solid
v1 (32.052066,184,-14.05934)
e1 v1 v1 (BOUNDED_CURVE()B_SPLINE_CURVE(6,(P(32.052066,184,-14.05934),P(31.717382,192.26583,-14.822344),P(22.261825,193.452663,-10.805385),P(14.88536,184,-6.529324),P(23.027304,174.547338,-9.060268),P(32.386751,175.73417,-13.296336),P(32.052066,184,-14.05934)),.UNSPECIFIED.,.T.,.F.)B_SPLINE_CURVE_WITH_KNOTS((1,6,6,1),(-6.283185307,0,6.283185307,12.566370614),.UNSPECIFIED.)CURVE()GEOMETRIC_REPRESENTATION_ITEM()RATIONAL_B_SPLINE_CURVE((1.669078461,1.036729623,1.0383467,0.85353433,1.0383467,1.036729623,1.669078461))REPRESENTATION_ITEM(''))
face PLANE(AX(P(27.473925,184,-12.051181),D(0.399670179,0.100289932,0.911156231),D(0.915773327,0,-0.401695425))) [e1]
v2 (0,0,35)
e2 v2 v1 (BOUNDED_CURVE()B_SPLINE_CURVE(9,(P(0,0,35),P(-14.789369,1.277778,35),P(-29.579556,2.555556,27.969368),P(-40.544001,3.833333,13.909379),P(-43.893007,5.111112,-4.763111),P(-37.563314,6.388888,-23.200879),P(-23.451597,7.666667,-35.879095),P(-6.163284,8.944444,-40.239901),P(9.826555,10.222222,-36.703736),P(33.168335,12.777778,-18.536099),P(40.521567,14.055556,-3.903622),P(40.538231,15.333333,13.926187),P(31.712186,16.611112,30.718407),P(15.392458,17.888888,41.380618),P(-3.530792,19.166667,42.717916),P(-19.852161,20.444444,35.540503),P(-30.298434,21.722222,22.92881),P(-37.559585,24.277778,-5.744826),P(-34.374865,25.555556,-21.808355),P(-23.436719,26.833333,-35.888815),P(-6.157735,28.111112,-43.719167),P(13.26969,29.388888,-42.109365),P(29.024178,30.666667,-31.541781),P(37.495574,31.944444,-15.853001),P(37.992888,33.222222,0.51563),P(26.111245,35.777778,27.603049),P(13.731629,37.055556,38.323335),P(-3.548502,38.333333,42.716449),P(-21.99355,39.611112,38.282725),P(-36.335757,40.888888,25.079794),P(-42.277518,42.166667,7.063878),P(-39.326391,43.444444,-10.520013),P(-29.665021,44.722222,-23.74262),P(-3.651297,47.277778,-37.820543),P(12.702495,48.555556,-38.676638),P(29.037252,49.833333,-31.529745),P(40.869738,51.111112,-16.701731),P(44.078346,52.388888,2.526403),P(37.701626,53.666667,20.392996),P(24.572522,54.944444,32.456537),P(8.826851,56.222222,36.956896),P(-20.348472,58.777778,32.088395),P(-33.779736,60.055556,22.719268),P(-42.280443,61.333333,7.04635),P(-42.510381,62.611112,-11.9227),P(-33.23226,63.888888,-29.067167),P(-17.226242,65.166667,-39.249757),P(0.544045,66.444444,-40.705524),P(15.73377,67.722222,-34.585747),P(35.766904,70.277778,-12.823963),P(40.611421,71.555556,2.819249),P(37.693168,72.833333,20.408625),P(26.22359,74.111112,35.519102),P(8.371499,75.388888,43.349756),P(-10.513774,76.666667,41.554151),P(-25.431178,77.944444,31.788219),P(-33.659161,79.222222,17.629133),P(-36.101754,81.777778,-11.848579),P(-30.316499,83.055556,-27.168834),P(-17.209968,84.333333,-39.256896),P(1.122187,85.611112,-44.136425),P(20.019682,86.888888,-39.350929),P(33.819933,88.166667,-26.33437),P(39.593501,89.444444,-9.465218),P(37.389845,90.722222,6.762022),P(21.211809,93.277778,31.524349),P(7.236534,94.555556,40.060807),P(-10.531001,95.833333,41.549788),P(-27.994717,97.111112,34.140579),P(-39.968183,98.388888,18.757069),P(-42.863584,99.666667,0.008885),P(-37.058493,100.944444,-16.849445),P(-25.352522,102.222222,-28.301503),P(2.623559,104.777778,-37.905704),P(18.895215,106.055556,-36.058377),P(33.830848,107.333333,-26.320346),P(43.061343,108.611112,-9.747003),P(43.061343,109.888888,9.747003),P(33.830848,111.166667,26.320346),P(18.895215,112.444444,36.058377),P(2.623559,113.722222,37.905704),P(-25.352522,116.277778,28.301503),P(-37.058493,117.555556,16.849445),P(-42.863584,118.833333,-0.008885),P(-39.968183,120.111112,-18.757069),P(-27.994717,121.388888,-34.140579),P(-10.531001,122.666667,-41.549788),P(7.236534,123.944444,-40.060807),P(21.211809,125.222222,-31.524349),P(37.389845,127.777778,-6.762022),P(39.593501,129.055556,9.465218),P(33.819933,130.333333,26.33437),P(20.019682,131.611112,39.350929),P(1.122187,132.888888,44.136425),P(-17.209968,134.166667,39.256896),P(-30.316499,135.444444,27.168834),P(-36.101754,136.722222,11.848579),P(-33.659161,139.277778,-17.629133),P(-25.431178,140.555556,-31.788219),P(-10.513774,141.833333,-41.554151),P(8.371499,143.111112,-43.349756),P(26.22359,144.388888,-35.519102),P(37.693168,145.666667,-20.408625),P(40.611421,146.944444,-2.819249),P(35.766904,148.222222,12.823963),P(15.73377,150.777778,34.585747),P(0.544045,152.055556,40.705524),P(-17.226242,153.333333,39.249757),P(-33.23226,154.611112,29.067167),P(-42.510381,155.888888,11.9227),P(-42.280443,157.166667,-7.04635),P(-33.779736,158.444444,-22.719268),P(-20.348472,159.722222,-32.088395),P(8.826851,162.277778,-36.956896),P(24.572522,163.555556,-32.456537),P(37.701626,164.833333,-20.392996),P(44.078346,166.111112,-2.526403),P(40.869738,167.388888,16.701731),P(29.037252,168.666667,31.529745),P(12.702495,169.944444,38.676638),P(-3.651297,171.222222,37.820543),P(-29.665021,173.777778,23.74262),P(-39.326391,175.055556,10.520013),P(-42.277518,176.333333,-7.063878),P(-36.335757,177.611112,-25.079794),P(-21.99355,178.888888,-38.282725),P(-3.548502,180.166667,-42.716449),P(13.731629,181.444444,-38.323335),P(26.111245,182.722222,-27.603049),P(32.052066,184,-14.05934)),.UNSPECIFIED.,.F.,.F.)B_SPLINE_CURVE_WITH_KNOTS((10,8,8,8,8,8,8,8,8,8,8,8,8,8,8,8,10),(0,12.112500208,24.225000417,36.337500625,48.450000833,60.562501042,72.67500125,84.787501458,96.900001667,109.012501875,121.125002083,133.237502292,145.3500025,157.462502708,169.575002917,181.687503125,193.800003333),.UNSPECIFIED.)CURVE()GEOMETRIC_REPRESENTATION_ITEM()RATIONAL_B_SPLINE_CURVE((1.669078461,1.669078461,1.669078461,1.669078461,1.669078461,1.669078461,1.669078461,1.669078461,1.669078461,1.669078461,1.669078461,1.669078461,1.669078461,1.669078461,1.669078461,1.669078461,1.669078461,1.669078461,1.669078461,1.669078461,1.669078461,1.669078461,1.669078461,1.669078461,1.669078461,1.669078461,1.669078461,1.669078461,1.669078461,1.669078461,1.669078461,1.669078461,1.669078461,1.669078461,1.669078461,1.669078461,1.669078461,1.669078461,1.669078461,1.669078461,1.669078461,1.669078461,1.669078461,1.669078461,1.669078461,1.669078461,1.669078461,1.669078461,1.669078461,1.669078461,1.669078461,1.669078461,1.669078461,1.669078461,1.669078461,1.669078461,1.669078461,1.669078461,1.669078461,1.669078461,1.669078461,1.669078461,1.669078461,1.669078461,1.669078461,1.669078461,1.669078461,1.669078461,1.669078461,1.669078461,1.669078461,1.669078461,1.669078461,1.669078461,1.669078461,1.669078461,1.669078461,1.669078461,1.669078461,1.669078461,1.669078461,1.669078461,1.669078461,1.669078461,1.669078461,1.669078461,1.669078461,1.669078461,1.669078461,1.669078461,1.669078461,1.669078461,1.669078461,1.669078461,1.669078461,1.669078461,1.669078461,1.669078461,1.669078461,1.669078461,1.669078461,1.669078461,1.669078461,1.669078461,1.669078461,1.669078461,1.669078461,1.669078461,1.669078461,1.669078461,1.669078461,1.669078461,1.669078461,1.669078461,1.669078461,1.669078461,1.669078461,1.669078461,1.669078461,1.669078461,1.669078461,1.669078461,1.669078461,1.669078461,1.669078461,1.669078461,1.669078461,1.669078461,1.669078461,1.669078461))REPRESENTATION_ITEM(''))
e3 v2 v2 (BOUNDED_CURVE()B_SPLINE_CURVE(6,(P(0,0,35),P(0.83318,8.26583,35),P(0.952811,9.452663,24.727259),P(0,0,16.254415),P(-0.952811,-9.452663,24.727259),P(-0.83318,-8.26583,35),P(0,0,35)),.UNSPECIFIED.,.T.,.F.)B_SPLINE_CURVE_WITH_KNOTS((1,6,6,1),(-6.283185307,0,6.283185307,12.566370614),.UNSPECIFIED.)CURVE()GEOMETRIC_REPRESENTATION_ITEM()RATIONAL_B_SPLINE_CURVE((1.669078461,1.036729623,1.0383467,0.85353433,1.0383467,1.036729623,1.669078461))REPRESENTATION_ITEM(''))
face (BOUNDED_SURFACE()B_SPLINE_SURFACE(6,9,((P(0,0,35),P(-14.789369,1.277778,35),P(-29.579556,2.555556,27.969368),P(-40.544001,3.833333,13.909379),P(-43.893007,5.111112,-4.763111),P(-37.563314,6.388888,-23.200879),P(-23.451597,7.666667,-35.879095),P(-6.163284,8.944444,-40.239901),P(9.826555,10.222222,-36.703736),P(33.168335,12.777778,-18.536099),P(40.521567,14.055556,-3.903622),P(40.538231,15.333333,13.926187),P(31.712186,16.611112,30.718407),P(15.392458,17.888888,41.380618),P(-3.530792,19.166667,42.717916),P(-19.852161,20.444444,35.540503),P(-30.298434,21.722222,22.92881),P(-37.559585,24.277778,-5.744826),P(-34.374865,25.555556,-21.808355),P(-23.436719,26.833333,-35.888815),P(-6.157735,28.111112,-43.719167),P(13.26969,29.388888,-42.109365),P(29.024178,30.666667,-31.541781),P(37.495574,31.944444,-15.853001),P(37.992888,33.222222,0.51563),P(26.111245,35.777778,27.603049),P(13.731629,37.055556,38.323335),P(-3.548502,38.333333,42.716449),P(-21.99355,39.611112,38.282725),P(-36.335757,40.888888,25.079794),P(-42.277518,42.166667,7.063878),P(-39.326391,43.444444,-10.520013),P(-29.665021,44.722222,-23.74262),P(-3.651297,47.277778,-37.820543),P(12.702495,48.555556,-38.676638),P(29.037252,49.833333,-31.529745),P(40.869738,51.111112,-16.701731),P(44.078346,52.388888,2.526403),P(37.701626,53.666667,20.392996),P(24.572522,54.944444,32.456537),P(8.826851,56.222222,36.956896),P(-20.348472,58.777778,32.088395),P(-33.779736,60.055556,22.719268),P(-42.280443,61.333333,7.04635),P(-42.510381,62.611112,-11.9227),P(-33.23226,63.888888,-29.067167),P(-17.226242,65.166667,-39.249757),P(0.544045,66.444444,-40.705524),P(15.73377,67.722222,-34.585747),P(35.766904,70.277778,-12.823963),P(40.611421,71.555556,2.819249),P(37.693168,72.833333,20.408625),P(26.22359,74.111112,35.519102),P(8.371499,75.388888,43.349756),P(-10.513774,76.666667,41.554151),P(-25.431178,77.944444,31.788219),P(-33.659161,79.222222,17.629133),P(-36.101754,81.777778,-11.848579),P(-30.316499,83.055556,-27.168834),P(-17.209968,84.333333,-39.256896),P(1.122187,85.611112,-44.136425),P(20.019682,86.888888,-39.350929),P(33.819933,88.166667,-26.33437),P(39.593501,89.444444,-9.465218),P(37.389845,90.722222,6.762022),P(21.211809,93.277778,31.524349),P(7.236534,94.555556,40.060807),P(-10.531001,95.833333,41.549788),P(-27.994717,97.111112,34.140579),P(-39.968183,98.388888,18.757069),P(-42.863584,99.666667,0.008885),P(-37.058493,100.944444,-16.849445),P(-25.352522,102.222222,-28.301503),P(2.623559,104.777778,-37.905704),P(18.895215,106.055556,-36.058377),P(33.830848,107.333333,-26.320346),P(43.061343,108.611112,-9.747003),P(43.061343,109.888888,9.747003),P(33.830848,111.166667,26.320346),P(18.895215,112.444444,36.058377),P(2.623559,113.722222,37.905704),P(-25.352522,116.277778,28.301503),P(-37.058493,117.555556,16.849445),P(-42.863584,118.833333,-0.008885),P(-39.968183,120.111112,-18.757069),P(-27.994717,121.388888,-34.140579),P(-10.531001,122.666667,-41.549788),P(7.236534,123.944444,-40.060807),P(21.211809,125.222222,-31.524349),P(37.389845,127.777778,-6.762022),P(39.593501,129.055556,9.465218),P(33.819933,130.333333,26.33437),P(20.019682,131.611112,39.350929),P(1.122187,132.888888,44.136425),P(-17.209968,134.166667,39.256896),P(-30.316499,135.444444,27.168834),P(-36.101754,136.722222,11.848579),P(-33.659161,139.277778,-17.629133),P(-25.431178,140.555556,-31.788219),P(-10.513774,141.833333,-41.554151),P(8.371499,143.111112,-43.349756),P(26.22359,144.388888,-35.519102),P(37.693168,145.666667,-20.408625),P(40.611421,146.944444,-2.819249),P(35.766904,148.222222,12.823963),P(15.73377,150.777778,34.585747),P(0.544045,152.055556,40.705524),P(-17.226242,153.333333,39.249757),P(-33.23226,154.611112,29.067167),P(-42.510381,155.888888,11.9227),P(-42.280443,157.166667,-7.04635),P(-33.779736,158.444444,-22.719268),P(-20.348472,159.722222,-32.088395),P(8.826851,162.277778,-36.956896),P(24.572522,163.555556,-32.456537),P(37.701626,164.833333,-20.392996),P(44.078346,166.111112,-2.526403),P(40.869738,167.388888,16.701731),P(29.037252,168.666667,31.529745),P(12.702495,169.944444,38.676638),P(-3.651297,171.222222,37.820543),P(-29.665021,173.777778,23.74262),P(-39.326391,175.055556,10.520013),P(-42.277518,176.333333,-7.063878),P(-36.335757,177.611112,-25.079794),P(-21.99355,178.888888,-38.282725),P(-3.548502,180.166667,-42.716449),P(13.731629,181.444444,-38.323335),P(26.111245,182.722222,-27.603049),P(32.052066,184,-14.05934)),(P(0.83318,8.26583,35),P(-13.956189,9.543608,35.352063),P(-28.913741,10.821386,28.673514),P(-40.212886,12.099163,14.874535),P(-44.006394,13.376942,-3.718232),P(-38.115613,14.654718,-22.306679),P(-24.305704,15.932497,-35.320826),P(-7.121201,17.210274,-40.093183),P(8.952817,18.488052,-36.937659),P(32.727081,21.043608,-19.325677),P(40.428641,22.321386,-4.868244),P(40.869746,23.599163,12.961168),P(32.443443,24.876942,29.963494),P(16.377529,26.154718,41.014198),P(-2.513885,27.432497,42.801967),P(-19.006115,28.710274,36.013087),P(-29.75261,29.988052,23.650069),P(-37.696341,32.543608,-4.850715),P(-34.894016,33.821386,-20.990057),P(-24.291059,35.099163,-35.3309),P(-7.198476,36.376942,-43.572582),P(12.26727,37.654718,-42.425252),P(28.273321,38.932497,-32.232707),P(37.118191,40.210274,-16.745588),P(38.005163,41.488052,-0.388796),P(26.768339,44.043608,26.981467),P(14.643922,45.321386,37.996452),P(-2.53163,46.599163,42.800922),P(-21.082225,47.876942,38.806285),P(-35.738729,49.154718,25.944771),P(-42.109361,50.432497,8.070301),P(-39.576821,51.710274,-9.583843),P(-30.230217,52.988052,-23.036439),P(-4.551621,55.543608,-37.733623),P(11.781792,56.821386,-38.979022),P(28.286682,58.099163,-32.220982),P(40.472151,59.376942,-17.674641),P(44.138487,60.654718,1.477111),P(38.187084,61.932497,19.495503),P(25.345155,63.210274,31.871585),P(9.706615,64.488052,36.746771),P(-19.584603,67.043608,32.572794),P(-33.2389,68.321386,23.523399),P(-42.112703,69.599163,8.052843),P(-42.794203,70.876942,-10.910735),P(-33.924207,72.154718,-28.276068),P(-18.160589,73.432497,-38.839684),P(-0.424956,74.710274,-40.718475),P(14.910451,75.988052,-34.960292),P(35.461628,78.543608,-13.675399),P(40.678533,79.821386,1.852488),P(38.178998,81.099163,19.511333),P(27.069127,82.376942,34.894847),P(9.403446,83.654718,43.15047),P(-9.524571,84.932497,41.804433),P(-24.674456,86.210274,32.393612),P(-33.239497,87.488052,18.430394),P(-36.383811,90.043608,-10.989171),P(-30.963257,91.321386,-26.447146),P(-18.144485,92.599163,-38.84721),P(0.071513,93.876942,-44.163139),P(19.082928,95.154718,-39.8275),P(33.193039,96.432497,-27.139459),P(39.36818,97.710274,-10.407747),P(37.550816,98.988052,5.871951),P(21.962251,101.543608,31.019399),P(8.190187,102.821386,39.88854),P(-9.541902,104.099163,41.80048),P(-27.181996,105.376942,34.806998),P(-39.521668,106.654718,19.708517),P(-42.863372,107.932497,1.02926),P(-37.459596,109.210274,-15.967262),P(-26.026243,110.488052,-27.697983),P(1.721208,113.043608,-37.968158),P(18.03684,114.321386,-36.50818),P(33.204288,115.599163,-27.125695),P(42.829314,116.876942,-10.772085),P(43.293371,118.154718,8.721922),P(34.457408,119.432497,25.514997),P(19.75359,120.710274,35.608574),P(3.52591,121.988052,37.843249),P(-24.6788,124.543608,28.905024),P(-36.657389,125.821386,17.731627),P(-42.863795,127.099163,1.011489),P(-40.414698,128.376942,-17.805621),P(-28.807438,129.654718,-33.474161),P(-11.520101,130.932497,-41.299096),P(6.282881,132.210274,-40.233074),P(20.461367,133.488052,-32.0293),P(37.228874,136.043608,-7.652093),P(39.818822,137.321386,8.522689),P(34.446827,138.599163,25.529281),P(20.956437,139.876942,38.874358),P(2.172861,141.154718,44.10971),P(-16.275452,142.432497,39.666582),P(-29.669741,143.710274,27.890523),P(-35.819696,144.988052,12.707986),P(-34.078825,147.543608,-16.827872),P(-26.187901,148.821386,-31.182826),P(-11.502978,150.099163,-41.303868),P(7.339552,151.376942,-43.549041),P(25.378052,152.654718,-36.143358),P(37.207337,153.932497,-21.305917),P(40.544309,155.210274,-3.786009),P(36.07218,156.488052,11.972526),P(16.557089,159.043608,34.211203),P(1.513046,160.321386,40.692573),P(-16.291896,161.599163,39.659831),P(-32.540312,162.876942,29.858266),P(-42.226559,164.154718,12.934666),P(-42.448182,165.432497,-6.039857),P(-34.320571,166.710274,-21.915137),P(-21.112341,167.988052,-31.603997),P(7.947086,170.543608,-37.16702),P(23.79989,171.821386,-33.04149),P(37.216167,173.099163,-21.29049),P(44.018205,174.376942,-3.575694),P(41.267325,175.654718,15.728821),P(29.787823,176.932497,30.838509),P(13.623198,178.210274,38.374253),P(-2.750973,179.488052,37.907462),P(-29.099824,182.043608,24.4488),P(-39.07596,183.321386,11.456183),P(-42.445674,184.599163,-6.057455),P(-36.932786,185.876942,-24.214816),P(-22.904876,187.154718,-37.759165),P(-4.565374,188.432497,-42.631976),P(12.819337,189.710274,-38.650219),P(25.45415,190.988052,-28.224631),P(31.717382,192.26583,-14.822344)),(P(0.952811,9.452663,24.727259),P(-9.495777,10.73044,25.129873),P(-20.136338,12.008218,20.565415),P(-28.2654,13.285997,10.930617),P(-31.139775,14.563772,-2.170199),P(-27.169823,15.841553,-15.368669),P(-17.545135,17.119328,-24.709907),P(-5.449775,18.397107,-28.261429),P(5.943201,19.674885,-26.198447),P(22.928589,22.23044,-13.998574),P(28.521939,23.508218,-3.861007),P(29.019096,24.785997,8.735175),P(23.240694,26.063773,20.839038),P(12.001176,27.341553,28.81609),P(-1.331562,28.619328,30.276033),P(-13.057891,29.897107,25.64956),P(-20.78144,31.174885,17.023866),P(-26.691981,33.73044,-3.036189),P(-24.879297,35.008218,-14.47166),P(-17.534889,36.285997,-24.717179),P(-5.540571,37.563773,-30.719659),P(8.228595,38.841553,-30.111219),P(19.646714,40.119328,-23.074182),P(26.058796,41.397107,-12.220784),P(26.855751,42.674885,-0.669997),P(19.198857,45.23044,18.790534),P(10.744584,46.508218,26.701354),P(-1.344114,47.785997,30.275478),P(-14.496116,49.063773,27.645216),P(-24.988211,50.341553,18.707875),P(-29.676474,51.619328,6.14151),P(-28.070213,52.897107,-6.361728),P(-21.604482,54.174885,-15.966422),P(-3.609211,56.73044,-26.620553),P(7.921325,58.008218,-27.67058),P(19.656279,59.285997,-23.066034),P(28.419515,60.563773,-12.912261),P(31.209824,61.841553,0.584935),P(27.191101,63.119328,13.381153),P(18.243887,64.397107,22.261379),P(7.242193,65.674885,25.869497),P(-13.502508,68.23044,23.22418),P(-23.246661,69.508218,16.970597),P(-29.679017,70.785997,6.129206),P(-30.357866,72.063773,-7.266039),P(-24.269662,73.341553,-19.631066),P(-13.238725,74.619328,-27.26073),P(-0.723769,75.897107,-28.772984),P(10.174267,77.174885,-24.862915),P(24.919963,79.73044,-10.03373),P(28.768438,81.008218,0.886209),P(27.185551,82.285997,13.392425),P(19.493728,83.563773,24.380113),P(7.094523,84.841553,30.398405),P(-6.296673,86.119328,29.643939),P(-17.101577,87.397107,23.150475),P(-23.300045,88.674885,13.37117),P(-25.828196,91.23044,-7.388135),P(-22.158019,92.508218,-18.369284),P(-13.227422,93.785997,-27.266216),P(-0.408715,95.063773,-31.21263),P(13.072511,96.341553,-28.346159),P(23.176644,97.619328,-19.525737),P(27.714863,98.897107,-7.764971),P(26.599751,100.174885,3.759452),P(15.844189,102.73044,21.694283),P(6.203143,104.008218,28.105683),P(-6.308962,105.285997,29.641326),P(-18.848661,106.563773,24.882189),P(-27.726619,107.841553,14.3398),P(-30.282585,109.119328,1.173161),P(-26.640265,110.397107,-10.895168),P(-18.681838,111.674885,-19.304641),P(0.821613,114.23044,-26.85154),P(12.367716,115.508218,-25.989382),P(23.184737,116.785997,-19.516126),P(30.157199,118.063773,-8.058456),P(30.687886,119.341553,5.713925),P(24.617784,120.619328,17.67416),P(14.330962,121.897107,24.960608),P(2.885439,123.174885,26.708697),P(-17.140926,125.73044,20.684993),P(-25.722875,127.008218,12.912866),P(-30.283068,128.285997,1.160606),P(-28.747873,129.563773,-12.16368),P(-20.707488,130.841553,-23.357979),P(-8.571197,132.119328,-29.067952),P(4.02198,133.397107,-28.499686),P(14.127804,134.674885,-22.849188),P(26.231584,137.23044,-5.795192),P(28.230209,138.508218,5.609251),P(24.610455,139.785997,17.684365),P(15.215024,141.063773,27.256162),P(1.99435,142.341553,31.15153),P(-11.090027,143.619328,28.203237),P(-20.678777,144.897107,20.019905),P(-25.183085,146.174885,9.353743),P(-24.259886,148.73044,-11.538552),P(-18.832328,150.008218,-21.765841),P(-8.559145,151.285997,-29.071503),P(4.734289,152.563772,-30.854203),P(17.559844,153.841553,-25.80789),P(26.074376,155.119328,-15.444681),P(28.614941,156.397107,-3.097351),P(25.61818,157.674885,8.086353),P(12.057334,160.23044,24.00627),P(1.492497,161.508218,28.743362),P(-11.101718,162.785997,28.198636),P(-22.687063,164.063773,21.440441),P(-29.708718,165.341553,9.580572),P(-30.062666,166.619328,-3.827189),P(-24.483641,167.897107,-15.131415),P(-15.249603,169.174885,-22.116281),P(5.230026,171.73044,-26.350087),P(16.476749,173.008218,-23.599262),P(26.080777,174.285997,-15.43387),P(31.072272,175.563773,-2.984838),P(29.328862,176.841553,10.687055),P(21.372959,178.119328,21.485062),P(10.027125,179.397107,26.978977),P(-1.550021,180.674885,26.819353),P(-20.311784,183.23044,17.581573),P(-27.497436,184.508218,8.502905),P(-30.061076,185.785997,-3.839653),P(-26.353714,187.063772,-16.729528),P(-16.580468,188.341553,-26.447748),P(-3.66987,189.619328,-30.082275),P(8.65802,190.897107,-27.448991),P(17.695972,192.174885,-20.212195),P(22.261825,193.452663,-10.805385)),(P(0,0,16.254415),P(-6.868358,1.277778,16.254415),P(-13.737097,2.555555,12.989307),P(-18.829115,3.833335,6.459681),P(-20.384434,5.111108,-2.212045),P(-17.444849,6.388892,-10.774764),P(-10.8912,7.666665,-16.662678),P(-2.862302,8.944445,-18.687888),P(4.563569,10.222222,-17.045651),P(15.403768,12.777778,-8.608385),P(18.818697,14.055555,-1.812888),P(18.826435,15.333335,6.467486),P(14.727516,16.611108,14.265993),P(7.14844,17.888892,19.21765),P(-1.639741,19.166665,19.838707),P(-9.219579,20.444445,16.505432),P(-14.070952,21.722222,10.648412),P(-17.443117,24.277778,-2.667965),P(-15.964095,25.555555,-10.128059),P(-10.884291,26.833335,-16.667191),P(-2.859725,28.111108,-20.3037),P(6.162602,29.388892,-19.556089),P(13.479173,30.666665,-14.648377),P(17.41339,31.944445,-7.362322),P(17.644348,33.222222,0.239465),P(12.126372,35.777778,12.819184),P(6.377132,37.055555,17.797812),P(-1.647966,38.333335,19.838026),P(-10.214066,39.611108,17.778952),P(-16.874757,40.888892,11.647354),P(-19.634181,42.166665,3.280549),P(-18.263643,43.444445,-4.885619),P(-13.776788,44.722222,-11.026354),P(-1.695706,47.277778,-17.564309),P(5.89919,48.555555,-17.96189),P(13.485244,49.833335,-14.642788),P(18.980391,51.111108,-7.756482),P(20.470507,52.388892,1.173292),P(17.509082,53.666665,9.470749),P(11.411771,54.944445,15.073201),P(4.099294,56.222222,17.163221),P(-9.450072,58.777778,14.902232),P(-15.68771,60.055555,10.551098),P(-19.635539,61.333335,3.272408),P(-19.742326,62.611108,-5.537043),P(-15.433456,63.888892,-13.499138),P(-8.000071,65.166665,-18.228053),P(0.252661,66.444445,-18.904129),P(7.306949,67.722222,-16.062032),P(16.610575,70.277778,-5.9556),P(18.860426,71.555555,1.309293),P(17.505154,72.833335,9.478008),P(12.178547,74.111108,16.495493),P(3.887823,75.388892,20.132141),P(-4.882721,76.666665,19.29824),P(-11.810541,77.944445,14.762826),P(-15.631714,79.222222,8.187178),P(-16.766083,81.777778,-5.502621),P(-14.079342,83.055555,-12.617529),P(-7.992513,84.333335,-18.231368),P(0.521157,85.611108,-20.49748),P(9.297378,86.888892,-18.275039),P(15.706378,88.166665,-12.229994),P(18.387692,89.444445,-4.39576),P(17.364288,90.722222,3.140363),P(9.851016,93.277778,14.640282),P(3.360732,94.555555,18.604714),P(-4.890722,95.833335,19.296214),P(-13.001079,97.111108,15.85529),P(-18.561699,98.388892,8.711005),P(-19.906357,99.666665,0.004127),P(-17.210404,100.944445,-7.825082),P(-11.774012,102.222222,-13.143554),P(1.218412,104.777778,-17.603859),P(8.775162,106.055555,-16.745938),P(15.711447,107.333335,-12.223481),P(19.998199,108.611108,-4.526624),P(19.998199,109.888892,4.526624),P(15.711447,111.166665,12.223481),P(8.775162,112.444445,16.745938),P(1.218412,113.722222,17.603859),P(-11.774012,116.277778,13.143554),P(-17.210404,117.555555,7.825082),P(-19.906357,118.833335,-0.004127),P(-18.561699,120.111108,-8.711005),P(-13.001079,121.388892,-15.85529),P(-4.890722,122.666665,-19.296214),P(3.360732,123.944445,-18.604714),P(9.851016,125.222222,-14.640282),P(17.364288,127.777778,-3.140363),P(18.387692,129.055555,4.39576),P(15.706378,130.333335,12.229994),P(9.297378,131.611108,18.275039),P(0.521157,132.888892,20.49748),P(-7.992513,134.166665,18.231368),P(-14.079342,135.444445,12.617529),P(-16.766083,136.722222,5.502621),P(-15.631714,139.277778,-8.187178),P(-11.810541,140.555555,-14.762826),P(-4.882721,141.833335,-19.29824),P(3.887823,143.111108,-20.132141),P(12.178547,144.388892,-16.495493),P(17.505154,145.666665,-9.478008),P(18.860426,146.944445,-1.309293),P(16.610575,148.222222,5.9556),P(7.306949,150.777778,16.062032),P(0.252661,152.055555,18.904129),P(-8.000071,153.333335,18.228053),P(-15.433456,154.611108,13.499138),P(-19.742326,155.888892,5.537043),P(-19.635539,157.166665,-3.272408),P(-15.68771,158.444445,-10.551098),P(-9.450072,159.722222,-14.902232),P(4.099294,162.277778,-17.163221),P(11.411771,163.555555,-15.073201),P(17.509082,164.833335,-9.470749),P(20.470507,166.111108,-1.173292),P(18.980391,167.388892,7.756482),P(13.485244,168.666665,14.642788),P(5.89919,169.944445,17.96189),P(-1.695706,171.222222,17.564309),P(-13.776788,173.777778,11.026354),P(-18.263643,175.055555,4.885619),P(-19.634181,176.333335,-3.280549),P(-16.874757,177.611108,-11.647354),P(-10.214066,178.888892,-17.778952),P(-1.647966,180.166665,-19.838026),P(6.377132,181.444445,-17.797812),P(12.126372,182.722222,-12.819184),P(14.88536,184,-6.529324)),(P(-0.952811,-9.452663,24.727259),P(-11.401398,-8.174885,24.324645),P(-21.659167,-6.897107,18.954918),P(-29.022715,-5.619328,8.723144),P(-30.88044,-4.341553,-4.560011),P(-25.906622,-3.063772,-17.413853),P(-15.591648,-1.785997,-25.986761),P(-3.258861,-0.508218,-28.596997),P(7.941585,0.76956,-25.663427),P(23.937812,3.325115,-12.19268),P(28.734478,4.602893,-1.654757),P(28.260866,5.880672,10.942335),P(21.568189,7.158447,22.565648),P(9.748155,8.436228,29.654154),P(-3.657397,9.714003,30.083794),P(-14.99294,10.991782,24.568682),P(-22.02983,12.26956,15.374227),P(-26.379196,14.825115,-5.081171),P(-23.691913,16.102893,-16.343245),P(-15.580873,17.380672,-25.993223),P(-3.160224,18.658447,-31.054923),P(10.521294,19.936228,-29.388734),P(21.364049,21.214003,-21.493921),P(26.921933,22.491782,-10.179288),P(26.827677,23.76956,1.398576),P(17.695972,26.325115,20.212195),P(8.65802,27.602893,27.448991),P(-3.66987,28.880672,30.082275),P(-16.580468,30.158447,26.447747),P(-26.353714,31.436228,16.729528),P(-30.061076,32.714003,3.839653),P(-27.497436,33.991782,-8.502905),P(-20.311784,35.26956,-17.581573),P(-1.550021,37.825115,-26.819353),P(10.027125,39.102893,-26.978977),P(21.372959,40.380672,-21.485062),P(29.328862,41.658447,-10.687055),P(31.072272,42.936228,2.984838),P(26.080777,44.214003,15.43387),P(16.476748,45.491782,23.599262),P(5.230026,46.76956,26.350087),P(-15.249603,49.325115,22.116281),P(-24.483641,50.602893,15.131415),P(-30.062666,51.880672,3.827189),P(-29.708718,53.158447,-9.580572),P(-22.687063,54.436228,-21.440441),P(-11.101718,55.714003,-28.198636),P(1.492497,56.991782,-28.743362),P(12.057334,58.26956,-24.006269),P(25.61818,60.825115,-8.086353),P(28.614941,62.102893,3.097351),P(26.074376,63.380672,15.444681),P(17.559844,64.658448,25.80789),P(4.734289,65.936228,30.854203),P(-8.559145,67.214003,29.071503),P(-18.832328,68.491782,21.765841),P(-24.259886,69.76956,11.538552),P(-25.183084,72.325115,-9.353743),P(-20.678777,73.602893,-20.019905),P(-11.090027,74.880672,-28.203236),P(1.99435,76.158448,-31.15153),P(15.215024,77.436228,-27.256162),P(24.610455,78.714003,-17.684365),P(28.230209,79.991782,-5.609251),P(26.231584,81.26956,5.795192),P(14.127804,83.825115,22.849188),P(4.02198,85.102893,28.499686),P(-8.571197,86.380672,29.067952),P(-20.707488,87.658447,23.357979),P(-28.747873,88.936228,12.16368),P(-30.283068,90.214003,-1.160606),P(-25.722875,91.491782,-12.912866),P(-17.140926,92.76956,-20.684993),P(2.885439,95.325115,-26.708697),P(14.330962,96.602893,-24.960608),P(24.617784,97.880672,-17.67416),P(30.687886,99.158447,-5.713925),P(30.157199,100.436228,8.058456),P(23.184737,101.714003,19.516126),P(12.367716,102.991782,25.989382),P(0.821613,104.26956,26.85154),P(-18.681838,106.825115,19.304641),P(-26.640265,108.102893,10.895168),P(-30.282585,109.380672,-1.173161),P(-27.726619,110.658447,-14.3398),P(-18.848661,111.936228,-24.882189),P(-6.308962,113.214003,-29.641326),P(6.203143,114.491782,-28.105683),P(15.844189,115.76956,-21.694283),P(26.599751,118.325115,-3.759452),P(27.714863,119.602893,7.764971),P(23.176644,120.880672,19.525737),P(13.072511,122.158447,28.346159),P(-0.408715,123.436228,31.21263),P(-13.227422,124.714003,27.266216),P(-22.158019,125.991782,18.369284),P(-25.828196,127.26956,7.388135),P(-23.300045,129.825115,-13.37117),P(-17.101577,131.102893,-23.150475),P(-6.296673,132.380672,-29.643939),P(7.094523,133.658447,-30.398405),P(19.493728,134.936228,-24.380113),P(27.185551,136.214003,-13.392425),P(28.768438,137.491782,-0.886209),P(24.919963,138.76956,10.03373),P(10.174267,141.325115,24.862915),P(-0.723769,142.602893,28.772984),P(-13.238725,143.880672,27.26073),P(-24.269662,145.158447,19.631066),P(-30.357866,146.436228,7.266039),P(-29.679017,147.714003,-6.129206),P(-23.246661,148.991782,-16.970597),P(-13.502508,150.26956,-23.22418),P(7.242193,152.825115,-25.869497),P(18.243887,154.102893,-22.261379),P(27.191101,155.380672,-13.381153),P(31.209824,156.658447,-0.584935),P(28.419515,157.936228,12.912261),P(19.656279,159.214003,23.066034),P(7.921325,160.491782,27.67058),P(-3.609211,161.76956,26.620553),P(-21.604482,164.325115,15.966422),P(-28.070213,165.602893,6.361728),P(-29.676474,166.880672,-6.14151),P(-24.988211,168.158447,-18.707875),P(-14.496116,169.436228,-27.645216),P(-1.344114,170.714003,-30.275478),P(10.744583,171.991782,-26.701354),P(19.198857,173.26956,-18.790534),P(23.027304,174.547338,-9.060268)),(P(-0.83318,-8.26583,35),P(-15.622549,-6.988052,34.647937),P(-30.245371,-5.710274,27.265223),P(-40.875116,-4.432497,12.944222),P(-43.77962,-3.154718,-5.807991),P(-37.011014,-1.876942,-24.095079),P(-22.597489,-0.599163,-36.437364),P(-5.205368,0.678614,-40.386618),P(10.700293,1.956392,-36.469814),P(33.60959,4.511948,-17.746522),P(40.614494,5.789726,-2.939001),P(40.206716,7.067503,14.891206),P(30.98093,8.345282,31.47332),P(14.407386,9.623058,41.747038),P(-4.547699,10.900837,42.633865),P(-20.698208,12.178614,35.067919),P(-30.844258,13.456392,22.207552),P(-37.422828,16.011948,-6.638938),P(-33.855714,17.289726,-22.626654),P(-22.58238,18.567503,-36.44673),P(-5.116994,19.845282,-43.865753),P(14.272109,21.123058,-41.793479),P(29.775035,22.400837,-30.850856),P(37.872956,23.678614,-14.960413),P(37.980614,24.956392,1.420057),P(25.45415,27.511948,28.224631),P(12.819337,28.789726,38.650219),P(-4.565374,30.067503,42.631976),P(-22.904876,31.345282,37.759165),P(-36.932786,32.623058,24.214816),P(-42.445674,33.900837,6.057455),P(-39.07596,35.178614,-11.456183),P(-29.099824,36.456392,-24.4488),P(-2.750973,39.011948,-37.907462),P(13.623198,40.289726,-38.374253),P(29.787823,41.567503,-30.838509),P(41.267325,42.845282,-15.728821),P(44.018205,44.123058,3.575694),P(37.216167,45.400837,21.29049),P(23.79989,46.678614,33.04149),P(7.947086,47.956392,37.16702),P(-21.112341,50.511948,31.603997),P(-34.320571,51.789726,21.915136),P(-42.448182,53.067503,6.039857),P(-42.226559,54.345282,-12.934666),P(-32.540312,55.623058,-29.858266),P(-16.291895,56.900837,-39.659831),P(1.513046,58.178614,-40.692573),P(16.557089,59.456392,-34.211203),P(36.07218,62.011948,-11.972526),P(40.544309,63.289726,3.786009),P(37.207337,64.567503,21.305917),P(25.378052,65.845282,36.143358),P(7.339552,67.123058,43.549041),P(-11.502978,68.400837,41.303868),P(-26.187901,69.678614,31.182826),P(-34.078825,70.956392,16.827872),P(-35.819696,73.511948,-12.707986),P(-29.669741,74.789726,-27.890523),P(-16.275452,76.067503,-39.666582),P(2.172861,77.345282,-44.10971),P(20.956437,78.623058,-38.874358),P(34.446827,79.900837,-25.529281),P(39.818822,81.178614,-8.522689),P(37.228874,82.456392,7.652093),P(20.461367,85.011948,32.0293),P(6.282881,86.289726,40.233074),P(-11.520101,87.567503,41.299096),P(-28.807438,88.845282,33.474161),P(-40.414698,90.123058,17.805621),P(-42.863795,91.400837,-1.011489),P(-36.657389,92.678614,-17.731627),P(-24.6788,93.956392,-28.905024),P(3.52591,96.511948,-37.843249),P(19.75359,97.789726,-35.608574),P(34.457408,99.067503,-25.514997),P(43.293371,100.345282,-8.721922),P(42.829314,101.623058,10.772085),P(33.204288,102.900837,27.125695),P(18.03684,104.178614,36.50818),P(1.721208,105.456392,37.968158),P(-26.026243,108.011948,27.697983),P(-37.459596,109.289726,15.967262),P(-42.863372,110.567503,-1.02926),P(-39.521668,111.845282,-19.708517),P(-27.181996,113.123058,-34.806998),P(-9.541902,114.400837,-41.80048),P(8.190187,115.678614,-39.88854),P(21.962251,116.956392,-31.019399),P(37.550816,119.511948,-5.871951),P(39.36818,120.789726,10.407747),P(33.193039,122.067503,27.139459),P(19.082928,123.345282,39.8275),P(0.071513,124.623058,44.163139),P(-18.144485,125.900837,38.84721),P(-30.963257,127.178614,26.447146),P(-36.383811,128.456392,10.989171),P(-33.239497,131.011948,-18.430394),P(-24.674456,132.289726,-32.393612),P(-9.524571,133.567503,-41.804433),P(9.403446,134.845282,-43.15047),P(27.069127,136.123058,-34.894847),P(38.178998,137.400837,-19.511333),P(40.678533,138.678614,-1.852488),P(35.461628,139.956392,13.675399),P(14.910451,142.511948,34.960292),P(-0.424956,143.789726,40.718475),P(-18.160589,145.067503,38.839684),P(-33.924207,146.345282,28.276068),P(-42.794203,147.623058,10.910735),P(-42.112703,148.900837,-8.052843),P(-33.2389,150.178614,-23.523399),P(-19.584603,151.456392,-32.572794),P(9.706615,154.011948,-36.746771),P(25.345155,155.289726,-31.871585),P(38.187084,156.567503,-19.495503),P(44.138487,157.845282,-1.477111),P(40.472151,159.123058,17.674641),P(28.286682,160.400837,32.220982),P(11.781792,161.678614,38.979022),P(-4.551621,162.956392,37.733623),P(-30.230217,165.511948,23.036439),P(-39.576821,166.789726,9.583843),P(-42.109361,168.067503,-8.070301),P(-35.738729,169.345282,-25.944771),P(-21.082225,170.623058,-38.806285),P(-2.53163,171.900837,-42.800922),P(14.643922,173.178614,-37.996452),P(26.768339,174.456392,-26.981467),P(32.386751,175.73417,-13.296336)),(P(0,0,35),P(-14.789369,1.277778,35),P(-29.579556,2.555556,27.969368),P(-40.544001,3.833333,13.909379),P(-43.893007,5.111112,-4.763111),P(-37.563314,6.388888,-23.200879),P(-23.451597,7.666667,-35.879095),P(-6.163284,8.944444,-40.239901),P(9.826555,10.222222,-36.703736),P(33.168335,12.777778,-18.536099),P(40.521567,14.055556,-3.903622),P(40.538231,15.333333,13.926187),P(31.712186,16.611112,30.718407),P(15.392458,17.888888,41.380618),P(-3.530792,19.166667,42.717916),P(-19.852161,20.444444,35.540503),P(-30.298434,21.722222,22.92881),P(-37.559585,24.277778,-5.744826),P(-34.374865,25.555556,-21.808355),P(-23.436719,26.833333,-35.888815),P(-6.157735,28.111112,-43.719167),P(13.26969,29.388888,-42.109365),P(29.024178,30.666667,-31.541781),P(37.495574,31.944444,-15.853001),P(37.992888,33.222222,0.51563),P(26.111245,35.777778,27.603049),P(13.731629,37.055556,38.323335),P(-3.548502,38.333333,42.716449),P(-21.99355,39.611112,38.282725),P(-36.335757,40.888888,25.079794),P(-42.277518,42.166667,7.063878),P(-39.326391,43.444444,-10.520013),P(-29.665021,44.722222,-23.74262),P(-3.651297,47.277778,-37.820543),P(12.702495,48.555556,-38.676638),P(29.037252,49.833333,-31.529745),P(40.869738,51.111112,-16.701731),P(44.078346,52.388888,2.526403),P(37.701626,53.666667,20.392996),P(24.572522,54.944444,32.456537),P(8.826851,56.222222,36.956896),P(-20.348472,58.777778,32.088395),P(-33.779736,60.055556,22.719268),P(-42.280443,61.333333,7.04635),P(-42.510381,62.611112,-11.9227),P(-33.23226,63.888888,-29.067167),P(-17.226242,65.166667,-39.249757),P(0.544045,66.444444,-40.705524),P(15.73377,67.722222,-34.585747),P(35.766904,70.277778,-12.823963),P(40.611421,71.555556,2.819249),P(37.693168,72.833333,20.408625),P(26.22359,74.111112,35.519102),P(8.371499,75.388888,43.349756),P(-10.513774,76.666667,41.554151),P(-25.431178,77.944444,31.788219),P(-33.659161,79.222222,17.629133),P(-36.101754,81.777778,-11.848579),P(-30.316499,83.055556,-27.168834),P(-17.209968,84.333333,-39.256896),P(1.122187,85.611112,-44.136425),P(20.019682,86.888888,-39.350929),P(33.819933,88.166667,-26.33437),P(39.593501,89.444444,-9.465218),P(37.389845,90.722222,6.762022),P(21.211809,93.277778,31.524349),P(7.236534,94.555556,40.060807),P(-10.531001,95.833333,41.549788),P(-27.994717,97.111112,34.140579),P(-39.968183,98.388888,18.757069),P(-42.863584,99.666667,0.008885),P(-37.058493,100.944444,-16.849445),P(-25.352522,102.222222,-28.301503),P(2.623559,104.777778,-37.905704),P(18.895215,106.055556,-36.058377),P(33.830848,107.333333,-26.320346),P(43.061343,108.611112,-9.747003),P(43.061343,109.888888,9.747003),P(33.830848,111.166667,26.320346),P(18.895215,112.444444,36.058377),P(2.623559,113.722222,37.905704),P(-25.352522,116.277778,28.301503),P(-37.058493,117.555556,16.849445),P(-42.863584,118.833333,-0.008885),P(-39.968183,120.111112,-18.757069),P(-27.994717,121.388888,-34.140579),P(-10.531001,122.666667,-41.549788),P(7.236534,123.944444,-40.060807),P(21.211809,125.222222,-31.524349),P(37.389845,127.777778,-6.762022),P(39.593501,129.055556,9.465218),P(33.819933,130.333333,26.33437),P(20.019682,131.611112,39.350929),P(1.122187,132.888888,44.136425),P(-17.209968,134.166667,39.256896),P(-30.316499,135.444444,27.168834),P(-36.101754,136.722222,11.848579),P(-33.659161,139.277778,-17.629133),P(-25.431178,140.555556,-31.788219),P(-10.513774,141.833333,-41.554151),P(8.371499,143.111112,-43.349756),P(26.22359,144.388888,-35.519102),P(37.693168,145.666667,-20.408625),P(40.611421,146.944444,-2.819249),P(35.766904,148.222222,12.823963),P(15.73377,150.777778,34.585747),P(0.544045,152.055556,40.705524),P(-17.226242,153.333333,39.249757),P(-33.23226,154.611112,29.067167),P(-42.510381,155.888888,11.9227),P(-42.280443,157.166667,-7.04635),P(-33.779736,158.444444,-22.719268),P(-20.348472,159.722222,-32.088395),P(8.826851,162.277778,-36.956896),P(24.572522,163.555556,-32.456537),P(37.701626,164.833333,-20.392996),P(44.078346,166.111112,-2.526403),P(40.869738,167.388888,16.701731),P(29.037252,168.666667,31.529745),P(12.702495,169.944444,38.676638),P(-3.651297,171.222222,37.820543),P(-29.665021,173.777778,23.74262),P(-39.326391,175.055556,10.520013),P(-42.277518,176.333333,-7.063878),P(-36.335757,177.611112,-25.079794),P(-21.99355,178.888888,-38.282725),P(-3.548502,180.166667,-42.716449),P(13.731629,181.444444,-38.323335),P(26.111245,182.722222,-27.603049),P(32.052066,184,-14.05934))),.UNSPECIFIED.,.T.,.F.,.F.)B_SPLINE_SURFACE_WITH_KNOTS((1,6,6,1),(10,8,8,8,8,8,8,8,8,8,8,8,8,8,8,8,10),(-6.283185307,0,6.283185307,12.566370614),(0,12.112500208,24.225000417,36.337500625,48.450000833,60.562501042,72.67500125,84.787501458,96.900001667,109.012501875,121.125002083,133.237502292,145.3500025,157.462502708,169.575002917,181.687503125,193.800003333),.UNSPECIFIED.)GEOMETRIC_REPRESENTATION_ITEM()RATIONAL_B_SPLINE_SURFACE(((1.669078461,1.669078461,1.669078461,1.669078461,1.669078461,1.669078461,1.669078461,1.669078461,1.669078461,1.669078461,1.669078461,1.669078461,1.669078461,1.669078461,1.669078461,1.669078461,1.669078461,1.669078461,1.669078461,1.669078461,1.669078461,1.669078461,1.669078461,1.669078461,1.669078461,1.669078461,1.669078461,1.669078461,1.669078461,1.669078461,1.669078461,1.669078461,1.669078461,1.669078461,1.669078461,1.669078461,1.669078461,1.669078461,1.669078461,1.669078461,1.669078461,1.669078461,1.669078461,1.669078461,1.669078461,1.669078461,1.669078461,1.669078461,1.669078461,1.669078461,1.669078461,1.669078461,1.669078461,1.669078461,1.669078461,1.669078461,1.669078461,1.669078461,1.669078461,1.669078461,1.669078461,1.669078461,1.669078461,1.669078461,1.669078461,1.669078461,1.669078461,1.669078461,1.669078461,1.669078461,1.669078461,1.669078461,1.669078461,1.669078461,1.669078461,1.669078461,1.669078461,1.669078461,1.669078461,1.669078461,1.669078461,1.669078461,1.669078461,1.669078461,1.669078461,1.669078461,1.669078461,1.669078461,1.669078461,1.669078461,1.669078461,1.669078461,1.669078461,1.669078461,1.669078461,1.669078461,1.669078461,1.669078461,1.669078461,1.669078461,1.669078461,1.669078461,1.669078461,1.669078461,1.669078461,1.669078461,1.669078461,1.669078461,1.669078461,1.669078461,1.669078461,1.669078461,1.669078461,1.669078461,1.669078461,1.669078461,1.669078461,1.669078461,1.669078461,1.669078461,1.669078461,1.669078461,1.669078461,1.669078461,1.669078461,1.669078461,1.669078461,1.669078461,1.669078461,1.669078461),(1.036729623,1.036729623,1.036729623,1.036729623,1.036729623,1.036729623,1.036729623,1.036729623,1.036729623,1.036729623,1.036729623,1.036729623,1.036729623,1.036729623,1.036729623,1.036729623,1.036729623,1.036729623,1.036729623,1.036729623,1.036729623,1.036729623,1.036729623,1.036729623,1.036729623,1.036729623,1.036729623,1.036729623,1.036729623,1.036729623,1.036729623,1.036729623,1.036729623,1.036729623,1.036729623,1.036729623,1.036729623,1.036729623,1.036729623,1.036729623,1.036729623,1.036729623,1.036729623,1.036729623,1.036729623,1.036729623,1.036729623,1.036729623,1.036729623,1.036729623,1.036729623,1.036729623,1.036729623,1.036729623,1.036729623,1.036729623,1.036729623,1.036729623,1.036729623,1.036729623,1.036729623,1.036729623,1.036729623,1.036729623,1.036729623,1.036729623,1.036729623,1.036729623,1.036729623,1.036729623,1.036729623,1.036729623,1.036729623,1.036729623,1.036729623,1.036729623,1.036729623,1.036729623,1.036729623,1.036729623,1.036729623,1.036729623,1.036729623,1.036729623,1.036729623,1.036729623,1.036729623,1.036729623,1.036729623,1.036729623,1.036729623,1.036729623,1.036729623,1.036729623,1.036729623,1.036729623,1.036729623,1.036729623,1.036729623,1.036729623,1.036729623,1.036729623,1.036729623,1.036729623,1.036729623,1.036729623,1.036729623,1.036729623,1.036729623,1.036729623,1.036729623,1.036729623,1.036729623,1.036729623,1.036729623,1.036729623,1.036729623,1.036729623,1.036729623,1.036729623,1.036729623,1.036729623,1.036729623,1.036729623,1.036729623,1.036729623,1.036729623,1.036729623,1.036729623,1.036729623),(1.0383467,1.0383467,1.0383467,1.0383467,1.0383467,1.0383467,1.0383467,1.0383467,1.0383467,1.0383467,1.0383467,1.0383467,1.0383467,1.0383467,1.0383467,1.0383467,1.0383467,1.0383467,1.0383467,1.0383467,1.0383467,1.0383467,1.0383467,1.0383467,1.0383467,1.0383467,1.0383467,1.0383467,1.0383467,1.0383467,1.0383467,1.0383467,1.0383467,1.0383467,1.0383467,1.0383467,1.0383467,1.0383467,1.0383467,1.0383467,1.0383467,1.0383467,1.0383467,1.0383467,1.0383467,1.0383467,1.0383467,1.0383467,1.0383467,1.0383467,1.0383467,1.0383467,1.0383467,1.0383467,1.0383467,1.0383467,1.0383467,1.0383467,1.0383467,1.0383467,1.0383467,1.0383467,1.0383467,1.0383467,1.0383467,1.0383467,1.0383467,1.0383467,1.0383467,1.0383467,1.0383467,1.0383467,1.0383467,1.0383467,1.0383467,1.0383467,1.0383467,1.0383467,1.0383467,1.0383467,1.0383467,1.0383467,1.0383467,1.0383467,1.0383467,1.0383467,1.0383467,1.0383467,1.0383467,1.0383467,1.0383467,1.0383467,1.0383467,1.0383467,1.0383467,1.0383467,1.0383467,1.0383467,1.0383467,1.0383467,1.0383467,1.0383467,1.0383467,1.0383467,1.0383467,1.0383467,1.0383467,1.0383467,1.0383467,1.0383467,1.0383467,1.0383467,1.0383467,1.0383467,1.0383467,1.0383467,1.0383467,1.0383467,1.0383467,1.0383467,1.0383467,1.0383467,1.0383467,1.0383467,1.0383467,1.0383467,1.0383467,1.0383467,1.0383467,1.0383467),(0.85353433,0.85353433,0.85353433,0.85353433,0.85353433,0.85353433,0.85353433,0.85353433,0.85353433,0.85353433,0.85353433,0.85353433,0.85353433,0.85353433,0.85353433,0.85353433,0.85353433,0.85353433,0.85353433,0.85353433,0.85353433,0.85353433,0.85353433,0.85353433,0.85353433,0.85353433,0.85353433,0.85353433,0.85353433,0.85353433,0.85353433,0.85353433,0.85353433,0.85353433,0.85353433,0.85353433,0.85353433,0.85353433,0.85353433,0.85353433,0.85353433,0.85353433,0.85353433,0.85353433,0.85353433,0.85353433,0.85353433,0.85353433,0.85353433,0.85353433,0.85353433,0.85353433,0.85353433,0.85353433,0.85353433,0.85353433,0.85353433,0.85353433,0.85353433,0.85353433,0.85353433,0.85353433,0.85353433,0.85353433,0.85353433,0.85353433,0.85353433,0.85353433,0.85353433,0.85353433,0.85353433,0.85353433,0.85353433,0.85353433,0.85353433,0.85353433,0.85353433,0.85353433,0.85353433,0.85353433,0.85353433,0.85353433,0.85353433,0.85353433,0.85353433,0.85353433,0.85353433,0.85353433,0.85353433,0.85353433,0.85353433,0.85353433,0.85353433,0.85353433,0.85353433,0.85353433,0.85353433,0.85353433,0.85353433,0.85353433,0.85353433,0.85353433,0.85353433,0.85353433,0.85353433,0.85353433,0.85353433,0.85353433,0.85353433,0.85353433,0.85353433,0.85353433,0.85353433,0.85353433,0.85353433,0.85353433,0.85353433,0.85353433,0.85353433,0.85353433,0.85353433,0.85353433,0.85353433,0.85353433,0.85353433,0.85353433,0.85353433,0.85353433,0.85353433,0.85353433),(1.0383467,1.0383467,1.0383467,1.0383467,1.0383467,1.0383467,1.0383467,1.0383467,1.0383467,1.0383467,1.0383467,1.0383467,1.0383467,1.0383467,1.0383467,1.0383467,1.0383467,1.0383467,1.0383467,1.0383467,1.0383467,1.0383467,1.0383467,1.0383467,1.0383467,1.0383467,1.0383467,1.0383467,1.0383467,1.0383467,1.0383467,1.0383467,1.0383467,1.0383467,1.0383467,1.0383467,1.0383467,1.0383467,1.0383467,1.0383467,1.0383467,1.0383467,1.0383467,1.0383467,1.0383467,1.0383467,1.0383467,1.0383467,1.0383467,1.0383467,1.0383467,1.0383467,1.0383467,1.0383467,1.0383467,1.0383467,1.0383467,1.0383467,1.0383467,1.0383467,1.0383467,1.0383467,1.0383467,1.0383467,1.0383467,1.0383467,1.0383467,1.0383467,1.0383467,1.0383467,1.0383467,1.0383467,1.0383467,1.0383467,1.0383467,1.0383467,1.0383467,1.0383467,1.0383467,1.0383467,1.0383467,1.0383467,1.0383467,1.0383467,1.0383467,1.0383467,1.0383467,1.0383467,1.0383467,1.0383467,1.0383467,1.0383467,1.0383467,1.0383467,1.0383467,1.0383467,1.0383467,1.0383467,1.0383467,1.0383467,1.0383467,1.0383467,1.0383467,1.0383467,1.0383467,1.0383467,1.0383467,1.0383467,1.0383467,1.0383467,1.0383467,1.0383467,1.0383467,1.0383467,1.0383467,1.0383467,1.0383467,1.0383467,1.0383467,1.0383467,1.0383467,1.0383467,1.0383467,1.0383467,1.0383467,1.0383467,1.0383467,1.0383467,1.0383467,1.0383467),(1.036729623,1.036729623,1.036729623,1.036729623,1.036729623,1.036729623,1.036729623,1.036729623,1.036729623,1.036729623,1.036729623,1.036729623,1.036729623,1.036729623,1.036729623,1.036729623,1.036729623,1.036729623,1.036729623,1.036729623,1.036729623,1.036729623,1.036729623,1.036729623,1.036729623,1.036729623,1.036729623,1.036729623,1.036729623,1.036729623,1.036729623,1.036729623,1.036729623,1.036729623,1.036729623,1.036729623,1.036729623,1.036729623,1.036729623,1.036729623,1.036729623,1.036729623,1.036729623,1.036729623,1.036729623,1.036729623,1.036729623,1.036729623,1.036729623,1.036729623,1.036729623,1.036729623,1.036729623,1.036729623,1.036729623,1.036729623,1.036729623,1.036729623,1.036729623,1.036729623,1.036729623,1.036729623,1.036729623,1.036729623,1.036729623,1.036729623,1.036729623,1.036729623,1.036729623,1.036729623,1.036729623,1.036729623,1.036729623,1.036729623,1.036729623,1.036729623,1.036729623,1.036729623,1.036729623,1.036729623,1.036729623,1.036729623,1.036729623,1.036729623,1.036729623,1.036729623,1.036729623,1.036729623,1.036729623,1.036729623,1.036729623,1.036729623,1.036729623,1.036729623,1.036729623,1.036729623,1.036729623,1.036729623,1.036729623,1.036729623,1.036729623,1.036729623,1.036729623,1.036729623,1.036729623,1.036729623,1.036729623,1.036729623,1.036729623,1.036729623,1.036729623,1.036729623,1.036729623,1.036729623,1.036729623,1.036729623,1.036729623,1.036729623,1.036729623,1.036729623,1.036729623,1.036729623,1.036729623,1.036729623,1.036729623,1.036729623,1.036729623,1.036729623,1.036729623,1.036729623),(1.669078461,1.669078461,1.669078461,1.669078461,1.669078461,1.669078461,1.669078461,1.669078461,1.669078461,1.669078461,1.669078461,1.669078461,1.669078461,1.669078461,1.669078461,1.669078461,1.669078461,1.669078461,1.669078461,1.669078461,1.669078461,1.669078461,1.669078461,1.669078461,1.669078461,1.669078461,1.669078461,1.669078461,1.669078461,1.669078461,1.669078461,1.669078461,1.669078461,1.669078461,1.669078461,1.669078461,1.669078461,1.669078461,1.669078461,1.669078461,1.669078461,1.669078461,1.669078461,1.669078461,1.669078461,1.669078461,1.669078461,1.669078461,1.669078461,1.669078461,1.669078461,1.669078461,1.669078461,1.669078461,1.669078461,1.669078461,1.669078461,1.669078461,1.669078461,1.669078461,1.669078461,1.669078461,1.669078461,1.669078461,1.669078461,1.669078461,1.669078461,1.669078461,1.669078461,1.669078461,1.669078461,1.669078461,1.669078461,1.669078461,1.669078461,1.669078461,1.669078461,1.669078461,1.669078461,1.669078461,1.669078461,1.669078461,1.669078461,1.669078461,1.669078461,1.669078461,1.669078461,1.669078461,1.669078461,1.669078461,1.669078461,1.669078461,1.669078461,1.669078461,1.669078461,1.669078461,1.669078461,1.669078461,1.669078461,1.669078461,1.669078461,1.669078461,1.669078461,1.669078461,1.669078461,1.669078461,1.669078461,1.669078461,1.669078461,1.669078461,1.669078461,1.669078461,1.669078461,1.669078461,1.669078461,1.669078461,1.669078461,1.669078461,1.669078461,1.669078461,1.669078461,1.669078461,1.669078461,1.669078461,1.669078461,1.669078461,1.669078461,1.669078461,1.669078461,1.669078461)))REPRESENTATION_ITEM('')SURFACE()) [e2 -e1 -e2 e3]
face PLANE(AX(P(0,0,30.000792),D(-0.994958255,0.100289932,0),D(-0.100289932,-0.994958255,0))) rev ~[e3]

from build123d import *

# Parameters (mm, degrees)
SWEEP1_PITCH  = 19
SWEEP1_HEIGHT = 184
SWEEP1_RADIUS = 30
SKETCH2_R     = 5


with BuildPart() as part:
    # Sweep1: sweep along a helix
    with BuildLine() as sweep1_path:
        Helix(SWEEP1_PITCH, SWEEP1_HEIGHT, SWEEP1_RADIUS, center=(0, 0, 0), direction=(0, 1, 0), lefthand=True)
    # Sketch2 → Sweep1 (sweep)
    with BuildSketch(Plane(origin=(0, 0, 30), x_dir=(0, 0, 1), z_dir=(-0.9949582551571763, 0.10028993216962263, -1.336874068878081e-15))):
        Circle(SKETCH2_R)
    sweep(path=sweep1_path.line, is_frenet=True)


solid = part.part
